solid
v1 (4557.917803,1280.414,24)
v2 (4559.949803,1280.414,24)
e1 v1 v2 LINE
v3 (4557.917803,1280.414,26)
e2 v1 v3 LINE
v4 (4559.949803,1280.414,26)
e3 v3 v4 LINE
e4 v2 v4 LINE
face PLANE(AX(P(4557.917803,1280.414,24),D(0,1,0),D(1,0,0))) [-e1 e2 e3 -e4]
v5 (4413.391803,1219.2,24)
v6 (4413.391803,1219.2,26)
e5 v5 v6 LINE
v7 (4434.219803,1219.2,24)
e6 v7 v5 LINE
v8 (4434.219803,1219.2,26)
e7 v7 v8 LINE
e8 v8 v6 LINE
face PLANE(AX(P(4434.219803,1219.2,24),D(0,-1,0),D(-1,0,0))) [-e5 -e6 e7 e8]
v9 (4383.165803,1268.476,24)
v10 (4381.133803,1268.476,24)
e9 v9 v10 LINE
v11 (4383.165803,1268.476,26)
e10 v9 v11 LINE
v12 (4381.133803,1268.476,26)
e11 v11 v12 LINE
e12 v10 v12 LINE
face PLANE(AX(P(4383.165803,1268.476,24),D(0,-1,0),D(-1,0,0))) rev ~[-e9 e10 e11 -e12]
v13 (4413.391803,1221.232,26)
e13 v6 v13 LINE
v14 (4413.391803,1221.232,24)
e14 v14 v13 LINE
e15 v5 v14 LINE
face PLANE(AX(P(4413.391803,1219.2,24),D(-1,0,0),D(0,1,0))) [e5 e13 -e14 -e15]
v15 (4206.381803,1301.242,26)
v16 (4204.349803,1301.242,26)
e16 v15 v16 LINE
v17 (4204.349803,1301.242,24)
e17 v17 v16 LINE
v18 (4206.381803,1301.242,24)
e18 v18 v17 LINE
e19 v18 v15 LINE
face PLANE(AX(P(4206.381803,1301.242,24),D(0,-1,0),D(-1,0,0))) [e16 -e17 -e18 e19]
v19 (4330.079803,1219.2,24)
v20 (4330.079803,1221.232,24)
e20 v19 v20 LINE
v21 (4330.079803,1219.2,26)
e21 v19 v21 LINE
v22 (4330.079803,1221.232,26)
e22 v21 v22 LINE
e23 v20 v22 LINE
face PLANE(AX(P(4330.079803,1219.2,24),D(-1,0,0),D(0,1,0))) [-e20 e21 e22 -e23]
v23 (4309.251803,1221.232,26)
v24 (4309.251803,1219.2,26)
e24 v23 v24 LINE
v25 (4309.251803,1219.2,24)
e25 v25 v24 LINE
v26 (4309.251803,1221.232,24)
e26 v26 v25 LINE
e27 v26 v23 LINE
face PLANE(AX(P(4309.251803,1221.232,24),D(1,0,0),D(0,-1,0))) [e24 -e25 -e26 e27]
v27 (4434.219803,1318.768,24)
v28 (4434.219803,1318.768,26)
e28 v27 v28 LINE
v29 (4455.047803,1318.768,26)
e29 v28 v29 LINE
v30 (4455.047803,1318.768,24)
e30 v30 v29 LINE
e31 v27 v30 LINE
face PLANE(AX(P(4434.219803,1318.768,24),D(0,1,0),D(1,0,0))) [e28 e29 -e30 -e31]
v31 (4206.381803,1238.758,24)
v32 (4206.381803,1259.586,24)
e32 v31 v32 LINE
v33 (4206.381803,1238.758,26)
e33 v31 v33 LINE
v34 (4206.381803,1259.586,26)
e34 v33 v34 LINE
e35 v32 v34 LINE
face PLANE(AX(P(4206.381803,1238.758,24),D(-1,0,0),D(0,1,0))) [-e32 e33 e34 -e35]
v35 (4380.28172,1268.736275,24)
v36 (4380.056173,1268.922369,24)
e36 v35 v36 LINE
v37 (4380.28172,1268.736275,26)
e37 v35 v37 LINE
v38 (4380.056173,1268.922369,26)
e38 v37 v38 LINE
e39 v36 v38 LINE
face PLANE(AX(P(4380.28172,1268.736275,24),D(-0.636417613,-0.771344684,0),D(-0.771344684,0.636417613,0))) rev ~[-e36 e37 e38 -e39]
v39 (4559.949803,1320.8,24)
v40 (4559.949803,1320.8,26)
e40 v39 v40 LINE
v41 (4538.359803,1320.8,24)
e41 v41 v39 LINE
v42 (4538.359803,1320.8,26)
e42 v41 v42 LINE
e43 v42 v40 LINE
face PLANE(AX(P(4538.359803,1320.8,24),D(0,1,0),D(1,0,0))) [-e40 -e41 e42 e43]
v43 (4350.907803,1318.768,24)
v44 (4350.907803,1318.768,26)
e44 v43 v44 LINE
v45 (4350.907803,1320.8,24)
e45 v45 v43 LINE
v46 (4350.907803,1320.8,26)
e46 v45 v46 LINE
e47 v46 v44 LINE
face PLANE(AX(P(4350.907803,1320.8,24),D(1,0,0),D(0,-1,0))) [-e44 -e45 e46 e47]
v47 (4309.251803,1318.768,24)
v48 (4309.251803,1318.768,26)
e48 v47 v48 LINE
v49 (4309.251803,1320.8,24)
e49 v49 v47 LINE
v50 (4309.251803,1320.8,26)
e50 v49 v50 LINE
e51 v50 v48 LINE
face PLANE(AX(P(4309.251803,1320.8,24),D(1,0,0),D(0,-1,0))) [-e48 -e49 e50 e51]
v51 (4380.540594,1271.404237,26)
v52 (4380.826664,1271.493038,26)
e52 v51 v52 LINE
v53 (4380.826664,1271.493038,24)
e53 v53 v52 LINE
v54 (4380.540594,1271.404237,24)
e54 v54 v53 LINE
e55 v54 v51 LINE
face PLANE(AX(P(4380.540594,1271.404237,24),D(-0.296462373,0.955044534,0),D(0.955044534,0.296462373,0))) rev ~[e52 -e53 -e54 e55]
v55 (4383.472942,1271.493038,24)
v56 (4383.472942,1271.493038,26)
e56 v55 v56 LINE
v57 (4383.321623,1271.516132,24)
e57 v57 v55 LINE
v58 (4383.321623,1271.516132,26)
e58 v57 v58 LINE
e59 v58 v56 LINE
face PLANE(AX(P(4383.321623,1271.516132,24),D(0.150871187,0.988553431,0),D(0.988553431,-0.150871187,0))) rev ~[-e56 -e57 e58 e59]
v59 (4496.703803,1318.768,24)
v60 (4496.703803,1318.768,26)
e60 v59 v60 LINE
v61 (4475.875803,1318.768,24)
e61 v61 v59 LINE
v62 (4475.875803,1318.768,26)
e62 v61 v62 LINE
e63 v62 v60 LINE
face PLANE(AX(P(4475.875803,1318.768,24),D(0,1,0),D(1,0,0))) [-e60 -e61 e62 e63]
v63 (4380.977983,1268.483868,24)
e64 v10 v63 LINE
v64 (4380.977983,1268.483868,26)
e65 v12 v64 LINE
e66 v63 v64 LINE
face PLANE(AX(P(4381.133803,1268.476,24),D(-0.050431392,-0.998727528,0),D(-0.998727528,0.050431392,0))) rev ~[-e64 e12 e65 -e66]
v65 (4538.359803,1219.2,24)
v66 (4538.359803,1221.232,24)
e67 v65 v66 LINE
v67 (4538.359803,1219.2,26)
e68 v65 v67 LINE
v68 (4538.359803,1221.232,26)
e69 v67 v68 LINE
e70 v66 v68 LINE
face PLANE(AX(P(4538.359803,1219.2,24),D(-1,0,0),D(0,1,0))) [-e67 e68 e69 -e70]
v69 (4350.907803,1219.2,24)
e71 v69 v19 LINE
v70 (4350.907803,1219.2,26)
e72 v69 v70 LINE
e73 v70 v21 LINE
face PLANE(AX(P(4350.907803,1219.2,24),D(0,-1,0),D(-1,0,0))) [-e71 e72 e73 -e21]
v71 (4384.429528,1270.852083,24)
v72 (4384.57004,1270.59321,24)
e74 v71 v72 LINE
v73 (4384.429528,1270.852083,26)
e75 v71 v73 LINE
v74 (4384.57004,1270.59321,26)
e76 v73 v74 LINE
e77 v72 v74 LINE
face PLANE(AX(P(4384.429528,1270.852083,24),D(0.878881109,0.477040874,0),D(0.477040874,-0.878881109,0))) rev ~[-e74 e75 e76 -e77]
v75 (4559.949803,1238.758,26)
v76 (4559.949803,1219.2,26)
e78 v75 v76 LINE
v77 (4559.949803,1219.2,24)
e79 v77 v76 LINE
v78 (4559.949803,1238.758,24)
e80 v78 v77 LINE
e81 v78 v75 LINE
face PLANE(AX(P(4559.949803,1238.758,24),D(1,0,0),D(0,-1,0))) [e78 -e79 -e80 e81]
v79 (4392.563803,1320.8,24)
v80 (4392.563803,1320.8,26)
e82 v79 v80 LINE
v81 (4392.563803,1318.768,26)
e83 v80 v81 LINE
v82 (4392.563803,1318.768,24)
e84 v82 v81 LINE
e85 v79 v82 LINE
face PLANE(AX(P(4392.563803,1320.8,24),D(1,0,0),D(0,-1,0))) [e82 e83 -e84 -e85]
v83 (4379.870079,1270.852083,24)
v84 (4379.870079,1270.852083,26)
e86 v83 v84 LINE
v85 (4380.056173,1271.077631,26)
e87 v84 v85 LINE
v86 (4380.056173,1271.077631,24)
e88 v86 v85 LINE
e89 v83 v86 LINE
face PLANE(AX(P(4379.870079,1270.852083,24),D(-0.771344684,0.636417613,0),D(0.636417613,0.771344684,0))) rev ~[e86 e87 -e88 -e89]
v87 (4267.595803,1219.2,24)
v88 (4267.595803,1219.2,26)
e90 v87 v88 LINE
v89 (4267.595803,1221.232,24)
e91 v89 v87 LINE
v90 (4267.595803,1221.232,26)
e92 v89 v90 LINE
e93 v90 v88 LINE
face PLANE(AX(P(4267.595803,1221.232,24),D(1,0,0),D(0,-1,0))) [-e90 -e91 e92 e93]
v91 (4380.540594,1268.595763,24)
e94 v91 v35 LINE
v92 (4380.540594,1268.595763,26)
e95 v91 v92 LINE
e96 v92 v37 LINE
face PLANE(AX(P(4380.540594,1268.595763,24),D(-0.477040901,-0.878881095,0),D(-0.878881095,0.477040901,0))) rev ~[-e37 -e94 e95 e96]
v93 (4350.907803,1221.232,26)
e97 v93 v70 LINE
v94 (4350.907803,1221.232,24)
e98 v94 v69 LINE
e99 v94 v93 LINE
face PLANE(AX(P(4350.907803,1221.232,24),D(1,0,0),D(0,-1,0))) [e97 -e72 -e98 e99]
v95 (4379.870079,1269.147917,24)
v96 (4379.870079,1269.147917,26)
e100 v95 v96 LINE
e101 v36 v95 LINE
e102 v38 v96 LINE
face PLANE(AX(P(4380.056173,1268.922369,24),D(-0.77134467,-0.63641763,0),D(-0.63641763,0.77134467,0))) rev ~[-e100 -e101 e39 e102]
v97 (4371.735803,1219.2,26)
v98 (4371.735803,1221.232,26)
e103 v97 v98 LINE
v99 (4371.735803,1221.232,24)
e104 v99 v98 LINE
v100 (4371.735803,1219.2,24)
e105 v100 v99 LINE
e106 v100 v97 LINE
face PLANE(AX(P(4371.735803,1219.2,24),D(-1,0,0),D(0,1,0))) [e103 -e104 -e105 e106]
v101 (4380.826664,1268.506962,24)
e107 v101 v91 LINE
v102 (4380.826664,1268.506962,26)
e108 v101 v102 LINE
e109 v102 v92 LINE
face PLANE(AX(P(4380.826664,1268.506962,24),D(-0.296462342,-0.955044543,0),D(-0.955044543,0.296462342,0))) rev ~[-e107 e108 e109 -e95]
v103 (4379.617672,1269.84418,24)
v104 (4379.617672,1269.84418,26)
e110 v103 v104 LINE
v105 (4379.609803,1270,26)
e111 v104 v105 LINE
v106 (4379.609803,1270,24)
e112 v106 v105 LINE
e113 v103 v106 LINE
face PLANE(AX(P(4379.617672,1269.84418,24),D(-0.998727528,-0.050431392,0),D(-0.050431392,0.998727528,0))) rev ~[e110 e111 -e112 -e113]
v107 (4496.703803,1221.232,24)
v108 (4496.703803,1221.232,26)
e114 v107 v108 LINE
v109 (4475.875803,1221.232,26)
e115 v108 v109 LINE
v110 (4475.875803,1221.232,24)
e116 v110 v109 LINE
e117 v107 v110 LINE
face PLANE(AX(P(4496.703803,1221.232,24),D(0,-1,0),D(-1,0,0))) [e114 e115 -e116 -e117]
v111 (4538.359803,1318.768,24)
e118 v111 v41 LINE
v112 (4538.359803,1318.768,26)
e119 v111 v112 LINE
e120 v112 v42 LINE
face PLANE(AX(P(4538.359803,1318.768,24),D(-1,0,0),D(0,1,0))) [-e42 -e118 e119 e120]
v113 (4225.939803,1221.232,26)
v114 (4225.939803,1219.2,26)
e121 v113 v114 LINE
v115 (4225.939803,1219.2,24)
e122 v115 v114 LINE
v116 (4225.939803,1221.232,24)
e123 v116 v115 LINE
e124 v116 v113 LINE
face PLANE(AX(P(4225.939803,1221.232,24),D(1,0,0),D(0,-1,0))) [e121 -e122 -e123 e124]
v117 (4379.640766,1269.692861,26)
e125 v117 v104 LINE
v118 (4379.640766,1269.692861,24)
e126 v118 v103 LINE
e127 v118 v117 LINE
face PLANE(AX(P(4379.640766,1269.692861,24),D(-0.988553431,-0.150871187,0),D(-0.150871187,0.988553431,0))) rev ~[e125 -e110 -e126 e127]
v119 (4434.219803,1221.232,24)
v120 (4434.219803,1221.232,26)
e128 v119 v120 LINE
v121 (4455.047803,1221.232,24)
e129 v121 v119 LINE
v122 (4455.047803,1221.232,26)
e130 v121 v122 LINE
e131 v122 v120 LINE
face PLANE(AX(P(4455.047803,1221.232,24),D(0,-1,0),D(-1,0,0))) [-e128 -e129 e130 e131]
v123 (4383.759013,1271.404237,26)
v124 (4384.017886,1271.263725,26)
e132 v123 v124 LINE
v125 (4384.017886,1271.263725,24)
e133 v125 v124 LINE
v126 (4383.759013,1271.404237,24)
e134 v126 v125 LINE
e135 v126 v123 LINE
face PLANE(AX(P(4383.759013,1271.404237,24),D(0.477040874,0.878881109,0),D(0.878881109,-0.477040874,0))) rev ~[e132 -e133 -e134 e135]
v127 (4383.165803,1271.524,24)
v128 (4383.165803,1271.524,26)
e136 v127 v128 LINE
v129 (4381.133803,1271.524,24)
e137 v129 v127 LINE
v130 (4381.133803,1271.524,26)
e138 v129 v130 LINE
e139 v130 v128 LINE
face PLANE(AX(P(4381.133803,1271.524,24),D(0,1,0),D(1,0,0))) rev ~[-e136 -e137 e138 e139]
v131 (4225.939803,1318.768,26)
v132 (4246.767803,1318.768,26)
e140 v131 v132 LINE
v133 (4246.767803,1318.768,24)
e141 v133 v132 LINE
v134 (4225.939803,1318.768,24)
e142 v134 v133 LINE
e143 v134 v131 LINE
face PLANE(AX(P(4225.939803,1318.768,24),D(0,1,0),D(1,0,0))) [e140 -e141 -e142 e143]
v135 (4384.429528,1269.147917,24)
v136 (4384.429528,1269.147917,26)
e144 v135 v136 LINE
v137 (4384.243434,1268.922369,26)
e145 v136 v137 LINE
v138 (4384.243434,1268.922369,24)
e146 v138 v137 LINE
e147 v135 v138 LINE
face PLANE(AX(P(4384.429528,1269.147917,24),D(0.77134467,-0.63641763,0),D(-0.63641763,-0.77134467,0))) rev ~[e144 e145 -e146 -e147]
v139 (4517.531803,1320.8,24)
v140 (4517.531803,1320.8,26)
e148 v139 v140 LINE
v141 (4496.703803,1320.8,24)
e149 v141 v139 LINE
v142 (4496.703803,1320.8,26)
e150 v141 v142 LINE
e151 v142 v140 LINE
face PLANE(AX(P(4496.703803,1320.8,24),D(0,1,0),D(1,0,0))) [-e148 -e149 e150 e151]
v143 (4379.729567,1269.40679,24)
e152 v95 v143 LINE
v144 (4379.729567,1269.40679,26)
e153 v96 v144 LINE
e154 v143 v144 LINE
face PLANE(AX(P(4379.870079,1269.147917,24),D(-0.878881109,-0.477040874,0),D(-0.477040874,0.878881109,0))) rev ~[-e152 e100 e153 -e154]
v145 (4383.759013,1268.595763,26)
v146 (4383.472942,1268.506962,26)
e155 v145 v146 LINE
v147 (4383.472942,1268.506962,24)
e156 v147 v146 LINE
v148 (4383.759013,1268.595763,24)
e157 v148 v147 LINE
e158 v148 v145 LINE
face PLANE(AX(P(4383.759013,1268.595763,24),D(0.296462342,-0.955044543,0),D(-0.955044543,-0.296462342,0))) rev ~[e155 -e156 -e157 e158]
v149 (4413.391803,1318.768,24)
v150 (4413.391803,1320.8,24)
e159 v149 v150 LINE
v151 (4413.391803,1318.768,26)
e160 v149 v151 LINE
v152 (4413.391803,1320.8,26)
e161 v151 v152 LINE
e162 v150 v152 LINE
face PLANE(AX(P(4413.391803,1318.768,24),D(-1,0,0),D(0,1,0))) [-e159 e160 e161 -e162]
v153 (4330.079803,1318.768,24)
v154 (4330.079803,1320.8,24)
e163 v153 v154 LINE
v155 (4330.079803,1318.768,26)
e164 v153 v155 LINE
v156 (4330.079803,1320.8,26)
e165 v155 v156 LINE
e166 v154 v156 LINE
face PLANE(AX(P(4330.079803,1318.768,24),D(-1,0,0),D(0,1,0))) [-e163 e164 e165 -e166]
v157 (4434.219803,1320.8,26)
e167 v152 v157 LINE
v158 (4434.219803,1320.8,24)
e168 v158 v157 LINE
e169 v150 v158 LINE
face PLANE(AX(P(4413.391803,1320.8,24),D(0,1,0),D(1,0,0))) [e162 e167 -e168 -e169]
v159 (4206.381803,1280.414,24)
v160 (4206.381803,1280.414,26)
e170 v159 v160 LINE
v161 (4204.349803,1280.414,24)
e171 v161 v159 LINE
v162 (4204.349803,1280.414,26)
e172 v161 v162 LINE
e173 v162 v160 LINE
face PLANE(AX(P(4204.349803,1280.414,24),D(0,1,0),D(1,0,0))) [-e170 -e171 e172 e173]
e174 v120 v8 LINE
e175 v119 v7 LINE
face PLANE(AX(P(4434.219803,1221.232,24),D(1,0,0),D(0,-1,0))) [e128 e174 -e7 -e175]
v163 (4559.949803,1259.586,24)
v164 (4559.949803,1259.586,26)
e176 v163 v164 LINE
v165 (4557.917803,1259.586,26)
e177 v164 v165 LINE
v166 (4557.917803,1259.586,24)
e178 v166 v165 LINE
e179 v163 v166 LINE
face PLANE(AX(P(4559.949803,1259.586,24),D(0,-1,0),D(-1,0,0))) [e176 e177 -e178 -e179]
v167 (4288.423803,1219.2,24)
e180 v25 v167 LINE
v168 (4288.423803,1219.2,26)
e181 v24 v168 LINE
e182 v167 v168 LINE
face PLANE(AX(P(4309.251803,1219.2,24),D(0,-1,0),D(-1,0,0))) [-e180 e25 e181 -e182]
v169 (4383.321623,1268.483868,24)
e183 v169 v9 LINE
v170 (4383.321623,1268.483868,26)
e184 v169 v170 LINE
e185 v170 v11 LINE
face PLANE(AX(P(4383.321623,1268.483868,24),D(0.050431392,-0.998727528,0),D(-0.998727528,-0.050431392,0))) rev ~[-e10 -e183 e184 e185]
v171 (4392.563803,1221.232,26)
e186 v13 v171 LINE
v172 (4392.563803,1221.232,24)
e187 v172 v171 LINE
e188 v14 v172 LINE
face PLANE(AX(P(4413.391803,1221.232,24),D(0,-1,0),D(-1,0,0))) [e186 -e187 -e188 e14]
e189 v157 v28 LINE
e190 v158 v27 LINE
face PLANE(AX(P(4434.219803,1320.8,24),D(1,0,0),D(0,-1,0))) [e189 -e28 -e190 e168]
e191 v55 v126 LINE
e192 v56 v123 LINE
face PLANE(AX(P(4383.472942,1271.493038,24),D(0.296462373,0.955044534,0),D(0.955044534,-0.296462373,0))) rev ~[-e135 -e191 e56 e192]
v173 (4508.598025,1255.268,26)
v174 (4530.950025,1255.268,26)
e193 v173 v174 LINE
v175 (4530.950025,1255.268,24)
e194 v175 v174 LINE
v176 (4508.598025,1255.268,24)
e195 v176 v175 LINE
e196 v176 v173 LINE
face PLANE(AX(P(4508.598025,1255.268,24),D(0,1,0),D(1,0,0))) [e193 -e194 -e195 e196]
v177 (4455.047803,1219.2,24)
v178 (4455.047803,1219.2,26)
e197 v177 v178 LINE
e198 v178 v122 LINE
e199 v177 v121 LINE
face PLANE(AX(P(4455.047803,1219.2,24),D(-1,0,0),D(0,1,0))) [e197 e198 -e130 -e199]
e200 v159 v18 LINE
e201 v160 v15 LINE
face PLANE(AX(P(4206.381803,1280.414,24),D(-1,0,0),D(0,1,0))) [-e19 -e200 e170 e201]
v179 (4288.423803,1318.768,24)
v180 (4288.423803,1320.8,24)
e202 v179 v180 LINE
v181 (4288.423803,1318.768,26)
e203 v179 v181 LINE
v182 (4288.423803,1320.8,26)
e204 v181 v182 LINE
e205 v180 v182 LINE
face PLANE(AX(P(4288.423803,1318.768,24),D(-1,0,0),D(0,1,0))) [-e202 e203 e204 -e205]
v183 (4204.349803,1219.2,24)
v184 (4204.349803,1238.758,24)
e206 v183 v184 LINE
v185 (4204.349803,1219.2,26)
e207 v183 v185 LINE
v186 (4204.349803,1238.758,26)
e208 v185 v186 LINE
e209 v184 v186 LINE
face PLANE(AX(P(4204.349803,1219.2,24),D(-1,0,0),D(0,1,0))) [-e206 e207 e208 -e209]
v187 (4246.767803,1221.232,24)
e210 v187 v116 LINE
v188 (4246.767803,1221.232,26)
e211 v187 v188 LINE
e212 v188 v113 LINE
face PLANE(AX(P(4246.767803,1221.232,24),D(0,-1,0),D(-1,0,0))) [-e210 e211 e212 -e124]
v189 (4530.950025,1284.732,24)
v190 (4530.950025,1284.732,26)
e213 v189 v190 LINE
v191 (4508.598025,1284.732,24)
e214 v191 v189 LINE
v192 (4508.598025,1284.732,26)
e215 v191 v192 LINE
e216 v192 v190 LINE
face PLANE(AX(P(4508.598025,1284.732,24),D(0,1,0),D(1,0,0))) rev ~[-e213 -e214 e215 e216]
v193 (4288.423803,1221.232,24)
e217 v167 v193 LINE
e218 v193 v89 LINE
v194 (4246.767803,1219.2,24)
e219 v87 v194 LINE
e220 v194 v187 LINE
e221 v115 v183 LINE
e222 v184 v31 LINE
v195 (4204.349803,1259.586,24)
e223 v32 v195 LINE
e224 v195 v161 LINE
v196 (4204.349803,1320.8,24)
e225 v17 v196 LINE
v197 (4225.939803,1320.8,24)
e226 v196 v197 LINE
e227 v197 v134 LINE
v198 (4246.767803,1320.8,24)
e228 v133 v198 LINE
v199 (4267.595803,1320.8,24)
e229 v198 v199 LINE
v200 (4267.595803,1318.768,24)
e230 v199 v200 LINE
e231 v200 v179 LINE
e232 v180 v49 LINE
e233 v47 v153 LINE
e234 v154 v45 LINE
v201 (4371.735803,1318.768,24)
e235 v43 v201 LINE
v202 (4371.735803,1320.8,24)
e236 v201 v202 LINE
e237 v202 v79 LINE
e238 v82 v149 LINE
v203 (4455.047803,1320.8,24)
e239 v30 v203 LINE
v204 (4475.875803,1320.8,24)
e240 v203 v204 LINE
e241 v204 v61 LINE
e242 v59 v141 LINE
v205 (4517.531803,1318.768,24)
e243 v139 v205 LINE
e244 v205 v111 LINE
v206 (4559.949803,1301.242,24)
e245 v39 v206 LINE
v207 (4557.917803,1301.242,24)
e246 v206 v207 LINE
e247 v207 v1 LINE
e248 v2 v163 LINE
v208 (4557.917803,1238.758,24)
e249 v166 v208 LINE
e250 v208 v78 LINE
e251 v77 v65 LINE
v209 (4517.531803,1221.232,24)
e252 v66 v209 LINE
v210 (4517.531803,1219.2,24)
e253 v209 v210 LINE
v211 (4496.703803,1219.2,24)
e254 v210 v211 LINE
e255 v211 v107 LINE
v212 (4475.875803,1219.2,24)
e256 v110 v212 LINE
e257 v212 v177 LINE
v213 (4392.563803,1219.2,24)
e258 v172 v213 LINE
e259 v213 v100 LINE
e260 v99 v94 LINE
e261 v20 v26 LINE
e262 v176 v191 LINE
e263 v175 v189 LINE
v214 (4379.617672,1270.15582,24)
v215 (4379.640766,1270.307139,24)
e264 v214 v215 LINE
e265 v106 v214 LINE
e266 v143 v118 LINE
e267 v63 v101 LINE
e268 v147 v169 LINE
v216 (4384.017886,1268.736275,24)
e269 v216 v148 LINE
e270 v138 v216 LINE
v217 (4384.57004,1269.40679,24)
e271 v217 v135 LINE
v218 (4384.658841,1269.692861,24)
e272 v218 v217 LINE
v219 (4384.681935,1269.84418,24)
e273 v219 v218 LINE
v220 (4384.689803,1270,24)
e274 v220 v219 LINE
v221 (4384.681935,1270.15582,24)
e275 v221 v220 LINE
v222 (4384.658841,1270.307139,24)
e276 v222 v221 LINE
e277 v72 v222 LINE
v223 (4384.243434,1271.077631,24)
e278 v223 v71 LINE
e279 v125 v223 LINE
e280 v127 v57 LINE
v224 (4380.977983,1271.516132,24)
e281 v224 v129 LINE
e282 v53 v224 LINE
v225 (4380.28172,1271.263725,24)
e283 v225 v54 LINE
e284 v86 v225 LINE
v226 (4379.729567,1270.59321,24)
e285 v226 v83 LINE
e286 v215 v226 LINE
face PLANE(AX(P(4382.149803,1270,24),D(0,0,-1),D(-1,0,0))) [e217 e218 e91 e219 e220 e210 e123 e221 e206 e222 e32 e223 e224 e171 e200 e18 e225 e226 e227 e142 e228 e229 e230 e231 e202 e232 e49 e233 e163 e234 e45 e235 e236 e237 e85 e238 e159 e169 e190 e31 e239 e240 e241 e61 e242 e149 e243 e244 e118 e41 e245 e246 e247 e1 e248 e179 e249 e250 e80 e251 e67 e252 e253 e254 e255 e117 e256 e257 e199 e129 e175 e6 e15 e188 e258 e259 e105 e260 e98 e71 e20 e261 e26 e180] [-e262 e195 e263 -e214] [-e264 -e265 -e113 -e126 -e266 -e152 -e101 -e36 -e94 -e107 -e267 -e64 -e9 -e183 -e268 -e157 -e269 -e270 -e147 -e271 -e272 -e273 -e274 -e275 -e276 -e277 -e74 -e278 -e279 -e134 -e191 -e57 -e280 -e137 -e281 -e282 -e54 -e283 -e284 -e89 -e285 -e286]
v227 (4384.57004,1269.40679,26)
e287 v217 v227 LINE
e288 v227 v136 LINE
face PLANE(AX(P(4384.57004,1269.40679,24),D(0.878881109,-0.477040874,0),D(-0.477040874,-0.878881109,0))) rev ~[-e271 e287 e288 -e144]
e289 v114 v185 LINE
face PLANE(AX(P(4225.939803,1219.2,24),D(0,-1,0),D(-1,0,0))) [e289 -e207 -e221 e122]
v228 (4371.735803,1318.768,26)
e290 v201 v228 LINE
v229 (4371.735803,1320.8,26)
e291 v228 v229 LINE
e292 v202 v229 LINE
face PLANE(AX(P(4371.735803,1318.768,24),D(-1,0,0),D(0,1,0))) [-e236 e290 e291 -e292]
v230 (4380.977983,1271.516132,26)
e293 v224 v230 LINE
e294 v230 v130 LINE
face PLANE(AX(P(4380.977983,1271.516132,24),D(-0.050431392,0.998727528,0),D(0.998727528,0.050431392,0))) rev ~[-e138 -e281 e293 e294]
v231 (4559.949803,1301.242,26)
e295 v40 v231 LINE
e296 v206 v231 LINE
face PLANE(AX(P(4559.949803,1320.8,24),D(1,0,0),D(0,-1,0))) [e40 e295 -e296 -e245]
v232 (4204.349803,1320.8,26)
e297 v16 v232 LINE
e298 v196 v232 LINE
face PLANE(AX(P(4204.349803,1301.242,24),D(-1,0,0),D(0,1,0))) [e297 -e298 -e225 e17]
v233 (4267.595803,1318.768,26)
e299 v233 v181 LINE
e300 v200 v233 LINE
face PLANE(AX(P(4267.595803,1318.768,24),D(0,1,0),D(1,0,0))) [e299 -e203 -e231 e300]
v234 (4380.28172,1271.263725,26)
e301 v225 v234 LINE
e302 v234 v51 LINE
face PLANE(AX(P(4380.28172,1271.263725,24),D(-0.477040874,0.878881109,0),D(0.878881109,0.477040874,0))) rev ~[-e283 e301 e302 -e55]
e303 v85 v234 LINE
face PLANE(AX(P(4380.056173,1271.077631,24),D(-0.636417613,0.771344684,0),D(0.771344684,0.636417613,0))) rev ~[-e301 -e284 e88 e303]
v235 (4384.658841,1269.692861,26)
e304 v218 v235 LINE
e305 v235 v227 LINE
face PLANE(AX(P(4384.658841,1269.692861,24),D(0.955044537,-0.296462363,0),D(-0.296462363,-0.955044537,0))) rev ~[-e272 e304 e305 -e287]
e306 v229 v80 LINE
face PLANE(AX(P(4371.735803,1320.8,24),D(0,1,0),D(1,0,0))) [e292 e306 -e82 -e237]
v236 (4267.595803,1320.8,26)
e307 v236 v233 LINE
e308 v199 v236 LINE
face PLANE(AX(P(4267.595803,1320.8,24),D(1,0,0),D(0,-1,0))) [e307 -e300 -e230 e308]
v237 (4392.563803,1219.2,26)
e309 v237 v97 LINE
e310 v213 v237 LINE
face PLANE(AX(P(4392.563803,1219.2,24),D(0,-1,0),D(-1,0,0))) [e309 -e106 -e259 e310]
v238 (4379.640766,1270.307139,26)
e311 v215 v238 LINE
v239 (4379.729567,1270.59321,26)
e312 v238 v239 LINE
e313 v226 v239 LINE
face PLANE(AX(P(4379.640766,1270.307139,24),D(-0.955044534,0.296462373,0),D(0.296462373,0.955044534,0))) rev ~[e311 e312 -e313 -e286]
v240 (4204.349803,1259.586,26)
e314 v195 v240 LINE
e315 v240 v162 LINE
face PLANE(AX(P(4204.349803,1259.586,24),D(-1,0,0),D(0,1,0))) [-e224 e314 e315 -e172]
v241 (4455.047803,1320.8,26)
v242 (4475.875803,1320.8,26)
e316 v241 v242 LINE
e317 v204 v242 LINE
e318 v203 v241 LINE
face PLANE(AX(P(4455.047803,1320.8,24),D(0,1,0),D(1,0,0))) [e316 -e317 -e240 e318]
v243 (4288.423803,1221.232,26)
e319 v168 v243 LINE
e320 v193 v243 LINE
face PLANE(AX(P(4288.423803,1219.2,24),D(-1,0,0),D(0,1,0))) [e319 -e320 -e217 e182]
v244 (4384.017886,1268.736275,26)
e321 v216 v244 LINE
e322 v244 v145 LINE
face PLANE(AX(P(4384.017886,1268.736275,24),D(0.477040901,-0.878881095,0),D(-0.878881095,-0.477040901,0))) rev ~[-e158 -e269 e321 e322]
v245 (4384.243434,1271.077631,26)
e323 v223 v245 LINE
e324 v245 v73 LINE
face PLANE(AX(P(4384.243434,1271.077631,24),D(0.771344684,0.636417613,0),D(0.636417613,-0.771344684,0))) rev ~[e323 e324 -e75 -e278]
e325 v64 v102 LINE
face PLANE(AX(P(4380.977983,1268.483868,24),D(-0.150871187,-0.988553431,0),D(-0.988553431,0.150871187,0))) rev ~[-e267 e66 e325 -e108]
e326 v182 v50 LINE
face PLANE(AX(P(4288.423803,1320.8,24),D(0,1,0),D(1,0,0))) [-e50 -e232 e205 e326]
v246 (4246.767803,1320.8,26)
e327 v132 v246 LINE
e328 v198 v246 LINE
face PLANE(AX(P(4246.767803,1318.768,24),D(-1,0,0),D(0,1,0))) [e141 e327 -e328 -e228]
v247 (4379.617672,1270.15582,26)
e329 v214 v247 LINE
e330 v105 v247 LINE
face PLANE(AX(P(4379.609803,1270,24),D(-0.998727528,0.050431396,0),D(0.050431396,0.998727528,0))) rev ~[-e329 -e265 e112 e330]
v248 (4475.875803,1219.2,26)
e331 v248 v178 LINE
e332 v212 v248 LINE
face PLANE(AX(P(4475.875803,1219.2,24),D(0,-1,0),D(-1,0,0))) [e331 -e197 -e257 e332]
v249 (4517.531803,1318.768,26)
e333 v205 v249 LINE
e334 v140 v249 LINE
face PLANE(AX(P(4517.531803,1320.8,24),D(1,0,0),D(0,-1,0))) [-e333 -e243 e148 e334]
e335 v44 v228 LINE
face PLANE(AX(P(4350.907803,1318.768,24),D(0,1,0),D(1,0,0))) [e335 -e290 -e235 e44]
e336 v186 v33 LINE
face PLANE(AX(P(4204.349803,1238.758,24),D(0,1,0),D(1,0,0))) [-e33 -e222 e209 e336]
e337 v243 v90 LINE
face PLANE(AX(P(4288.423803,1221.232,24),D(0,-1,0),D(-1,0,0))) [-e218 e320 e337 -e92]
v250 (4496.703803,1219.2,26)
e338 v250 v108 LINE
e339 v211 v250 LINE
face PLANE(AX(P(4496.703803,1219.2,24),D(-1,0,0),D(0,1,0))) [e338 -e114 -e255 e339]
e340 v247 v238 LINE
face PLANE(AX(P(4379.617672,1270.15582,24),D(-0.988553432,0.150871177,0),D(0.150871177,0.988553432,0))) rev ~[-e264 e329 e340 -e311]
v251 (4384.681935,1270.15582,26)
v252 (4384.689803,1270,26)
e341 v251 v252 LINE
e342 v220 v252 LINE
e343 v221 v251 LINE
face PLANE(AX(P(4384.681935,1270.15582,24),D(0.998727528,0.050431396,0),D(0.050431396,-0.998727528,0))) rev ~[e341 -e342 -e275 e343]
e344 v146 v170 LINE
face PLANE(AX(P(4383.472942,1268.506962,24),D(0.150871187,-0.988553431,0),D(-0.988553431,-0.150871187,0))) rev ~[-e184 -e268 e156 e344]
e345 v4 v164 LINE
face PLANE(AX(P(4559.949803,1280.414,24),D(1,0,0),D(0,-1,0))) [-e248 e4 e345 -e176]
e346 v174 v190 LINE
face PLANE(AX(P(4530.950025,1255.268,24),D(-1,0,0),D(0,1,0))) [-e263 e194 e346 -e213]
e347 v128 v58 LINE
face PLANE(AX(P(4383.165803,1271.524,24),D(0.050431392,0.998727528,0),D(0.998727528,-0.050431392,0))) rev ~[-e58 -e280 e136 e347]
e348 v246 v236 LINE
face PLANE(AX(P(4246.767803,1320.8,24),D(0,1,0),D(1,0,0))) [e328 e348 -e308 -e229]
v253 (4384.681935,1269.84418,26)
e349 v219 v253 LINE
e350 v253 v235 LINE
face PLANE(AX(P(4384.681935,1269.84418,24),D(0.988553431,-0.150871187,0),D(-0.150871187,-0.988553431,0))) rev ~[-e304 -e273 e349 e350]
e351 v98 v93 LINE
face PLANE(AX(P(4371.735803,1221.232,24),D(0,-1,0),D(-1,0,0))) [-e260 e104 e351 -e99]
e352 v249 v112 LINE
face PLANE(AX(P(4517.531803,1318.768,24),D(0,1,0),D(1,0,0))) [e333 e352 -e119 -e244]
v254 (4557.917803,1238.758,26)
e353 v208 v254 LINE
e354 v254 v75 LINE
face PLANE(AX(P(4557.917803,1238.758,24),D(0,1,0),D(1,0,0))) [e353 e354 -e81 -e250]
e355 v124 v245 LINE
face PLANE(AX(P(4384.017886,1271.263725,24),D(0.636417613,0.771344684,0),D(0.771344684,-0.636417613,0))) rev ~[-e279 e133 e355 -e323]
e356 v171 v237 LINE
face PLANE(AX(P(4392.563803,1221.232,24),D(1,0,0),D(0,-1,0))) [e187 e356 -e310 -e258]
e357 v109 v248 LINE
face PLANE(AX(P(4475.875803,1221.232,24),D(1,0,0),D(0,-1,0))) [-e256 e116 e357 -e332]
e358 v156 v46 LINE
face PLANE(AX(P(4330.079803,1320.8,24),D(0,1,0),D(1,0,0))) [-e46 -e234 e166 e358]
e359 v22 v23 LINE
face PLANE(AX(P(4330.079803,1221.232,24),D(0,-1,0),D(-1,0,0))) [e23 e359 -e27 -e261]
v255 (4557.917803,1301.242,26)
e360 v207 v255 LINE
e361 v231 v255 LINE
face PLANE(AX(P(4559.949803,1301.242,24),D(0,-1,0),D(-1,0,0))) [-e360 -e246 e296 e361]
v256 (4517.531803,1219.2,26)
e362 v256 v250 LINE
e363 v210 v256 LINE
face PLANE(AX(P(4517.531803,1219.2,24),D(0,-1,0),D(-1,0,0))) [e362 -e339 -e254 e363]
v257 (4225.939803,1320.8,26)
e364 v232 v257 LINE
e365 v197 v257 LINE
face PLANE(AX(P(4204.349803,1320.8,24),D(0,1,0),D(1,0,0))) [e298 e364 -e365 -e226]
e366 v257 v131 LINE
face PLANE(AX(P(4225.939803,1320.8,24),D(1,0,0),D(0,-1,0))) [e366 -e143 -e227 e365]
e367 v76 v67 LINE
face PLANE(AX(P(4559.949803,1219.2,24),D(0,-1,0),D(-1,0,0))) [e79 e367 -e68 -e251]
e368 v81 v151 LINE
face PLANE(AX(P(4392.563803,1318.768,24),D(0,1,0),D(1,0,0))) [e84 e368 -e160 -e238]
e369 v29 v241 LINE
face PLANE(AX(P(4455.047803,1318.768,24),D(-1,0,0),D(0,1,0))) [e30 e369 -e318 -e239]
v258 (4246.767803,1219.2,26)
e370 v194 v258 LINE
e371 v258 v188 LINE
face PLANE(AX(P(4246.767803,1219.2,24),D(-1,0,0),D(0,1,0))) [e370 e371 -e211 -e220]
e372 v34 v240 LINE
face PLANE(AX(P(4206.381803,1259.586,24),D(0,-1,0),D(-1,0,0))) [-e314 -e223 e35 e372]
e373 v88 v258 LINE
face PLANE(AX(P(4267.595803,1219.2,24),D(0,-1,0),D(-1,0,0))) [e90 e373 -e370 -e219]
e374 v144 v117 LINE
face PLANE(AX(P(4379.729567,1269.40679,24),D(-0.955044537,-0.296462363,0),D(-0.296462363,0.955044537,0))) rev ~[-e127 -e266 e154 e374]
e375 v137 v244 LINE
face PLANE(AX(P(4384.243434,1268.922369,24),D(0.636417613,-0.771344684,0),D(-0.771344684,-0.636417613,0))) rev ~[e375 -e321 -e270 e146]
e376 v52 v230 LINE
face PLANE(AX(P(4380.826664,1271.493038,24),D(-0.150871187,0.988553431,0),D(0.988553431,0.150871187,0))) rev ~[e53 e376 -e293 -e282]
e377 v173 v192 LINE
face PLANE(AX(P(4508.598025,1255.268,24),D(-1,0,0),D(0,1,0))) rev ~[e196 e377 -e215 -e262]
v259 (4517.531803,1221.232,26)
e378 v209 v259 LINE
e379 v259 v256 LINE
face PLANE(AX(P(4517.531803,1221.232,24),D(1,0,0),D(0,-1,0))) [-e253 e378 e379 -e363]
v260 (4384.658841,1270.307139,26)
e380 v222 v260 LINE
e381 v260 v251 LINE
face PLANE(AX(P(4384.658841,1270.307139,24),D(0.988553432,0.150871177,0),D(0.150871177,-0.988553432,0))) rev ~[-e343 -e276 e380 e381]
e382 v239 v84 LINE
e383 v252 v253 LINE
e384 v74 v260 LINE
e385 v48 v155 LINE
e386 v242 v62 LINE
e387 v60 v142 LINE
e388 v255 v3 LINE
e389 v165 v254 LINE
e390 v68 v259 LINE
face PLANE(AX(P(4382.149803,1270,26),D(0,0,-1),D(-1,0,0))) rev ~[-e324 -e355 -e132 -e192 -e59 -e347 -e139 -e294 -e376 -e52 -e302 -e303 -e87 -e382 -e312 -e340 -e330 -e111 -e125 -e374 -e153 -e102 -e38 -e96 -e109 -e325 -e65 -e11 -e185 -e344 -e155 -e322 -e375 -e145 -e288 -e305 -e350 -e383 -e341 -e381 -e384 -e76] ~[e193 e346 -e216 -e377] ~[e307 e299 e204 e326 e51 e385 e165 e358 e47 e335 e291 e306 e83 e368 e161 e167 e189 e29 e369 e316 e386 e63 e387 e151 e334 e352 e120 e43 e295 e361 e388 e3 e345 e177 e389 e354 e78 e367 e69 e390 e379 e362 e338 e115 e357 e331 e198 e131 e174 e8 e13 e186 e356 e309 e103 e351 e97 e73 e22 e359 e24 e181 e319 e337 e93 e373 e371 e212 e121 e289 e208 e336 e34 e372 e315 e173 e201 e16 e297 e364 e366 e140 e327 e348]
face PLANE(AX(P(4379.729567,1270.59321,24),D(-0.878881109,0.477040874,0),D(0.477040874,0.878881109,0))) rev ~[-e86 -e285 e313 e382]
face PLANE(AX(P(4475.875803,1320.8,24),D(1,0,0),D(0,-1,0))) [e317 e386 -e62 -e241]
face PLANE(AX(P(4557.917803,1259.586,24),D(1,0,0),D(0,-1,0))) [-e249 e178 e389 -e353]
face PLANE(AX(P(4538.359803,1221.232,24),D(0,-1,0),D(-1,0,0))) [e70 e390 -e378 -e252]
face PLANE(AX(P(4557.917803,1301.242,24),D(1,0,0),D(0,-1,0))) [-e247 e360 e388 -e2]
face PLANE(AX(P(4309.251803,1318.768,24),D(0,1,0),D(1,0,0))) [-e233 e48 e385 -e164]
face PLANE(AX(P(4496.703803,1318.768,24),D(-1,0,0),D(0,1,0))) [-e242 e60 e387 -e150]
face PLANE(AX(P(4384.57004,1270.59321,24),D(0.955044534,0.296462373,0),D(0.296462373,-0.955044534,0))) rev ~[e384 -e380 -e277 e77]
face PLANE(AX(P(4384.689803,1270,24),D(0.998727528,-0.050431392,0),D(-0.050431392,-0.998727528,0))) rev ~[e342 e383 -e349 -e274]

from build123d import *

# Parameters (mm, degrees)
SKETCH1_W           = 558.8
SKETCH1_H           = 736.6
BOSS_EXTRUDE1_DEPTH = 50
SCALE1_SCALE        = 0.04


with BuildPart() as part:
    # Sketch1 → Boss-Extrude1 (new body)
    with BuildSketch(Plane.XY):
        Polygon((4705.35, 2489.2), (5226.05, 2489.2), (5226.05, 2540), (5746.75, 2540), (5746.75, 2489.2), (6267.45, 2489.2), (6267.45, 2540), (6788.15, 2540), (6788.15, 2489.2), (7308.85, 2489.2), (7308.85, 2540), (7829.55, 2540), (7829.55, 2489.2), (8350.25, 2489.2), (8350.25, 2540), (8890, 2540), (8890, 2051.05), (8839.2, 2051.05), (8839.2, 1530.35), (8890, 1530.35), (8890, 1009.65), (8839.2, 1009.65), (8839.2, 488.95), (8890, 488.95), (8890, 0), (8350.25, 0), (8350.25, 50.8), (7829.55, 50.8), (7829.55, 0), (7308.85, 0), (7308.85, 50.8), (6788.15, 50.8), (6788.15, 0), (6267.45, 0), (6267.45, 50.8), (5746.75, 50.8), (5746.75, 0), (5226.05, 0), (5226.05, 50.8), (4705.35, 50.8), (4705.35, 0), (4184.65, 0), (4184.65, 50.8), (3663.95, 50.8), (3663.95, 0), (3143.25, 0), (3143.25, 50.8), (2622.55, 50.8), (2622.55, 0), (2101.85, 0), (2101.85, 50.8), (1581.15, 50.8), (1581.15, 0), (1060.45, 0), (1060.45, 50.8), (539.75, 50.8), (539.75, 0), (0, 0), (0, 488.95), (50.8, 488.95), (50.8, 1009.65), (0, 1009.65), (0, 1530.35), (50.8, 1530.35), (50.8, 2051.05), (0, 2051.05), (0, 2540), (539.75, 2540), (539.75, 2489.2), (1060.45, 2489.2), (1060.45, 2540), (1581.15, 2540), (1581.15, 2489.2), (2101.85, 2489.2), (2101.85, 2540), (2622.55, 2540), (2622.55, 2489.2), (3143.25, 2489.2), (3143.25, 2540), (3663.95, 2540), (3663.95, 2489.2), (4184.65, 2489.2), (4184.65, 2540), (4705.35, 2540), align=None)
        Polygon((4470.4, 1231.9), (4419.6, 1231.9), (4415.704496234, 1232.096705982), (4411.921521072, 1232.674056618), (4404.769760674, 1234.894086722), (4398.297927796, 1238.406881576), (4392.659231682, 1243.059231682), (4388.006881576, 1248.697927542), (4384.494086976, 1255.16976042), (4382.274056618, 1262.321521072), (4381.696705982, 1266.104496234), (4381.5, 1270), (4381.696705982, 1273.895503512), (4382.274056618, 1277.678478928), (4384.494086976, 1284.830239326), (4388.006881576, 1291.302072204), (4392.659231682, 1296.940768318), (4398.297927796, 1301.593118424), (4404.769760674, 1305.105913024), (4411.921521072, 1307.325943382), (4415.704496234, 1307.903294018), (4419.6, 1308.1), (4470.4, 1308.1), (4474.295503766, 1307.903294018), (4478.078478928, 1307.325943382), (4485.230239326, 1305.105913024), (4491.702072204, 1301.593118424), (4497.340768318, 1296.940768318), (4501.993118424, 1291.302072204), (4505.505913024, 1284.830239326), (4507.725943382, 1277.678478928), (4508.303294018, 1273.895503512), (4508.5, 1270), (4508.303294018, 1266.104496234), (4507.725943382, 1262.321521072), (4505.505913024, 1255.16976042), (4501.993118424, 1248.697927542), (4497.340768318, 1243.059231682), (4491.702072204, 1238.406881576), (4485.230239326, 1234.894086722), (4478.078478928, 1232.674056618), (4474.295503766, 1232.096705982), align=None, mode=Mode.SUBTRACT)
        with Locations((7885.605536606, 1270)):
            Rectangle(SKETCH1_W, SKETCH1_H, mode=Mode.SUBTRACT)
    extrude(amount=BOSS_EXTRUDE1_DEPTH)


with BuildPart() as part_1:
    # Scale1: scaled about (4379.531045071, 1270, 25)
    add(part.part.scale(SCALE1_SCALE).moved(Location((4204.349803268, 1219.2, 24))))


solid = part_1.part
